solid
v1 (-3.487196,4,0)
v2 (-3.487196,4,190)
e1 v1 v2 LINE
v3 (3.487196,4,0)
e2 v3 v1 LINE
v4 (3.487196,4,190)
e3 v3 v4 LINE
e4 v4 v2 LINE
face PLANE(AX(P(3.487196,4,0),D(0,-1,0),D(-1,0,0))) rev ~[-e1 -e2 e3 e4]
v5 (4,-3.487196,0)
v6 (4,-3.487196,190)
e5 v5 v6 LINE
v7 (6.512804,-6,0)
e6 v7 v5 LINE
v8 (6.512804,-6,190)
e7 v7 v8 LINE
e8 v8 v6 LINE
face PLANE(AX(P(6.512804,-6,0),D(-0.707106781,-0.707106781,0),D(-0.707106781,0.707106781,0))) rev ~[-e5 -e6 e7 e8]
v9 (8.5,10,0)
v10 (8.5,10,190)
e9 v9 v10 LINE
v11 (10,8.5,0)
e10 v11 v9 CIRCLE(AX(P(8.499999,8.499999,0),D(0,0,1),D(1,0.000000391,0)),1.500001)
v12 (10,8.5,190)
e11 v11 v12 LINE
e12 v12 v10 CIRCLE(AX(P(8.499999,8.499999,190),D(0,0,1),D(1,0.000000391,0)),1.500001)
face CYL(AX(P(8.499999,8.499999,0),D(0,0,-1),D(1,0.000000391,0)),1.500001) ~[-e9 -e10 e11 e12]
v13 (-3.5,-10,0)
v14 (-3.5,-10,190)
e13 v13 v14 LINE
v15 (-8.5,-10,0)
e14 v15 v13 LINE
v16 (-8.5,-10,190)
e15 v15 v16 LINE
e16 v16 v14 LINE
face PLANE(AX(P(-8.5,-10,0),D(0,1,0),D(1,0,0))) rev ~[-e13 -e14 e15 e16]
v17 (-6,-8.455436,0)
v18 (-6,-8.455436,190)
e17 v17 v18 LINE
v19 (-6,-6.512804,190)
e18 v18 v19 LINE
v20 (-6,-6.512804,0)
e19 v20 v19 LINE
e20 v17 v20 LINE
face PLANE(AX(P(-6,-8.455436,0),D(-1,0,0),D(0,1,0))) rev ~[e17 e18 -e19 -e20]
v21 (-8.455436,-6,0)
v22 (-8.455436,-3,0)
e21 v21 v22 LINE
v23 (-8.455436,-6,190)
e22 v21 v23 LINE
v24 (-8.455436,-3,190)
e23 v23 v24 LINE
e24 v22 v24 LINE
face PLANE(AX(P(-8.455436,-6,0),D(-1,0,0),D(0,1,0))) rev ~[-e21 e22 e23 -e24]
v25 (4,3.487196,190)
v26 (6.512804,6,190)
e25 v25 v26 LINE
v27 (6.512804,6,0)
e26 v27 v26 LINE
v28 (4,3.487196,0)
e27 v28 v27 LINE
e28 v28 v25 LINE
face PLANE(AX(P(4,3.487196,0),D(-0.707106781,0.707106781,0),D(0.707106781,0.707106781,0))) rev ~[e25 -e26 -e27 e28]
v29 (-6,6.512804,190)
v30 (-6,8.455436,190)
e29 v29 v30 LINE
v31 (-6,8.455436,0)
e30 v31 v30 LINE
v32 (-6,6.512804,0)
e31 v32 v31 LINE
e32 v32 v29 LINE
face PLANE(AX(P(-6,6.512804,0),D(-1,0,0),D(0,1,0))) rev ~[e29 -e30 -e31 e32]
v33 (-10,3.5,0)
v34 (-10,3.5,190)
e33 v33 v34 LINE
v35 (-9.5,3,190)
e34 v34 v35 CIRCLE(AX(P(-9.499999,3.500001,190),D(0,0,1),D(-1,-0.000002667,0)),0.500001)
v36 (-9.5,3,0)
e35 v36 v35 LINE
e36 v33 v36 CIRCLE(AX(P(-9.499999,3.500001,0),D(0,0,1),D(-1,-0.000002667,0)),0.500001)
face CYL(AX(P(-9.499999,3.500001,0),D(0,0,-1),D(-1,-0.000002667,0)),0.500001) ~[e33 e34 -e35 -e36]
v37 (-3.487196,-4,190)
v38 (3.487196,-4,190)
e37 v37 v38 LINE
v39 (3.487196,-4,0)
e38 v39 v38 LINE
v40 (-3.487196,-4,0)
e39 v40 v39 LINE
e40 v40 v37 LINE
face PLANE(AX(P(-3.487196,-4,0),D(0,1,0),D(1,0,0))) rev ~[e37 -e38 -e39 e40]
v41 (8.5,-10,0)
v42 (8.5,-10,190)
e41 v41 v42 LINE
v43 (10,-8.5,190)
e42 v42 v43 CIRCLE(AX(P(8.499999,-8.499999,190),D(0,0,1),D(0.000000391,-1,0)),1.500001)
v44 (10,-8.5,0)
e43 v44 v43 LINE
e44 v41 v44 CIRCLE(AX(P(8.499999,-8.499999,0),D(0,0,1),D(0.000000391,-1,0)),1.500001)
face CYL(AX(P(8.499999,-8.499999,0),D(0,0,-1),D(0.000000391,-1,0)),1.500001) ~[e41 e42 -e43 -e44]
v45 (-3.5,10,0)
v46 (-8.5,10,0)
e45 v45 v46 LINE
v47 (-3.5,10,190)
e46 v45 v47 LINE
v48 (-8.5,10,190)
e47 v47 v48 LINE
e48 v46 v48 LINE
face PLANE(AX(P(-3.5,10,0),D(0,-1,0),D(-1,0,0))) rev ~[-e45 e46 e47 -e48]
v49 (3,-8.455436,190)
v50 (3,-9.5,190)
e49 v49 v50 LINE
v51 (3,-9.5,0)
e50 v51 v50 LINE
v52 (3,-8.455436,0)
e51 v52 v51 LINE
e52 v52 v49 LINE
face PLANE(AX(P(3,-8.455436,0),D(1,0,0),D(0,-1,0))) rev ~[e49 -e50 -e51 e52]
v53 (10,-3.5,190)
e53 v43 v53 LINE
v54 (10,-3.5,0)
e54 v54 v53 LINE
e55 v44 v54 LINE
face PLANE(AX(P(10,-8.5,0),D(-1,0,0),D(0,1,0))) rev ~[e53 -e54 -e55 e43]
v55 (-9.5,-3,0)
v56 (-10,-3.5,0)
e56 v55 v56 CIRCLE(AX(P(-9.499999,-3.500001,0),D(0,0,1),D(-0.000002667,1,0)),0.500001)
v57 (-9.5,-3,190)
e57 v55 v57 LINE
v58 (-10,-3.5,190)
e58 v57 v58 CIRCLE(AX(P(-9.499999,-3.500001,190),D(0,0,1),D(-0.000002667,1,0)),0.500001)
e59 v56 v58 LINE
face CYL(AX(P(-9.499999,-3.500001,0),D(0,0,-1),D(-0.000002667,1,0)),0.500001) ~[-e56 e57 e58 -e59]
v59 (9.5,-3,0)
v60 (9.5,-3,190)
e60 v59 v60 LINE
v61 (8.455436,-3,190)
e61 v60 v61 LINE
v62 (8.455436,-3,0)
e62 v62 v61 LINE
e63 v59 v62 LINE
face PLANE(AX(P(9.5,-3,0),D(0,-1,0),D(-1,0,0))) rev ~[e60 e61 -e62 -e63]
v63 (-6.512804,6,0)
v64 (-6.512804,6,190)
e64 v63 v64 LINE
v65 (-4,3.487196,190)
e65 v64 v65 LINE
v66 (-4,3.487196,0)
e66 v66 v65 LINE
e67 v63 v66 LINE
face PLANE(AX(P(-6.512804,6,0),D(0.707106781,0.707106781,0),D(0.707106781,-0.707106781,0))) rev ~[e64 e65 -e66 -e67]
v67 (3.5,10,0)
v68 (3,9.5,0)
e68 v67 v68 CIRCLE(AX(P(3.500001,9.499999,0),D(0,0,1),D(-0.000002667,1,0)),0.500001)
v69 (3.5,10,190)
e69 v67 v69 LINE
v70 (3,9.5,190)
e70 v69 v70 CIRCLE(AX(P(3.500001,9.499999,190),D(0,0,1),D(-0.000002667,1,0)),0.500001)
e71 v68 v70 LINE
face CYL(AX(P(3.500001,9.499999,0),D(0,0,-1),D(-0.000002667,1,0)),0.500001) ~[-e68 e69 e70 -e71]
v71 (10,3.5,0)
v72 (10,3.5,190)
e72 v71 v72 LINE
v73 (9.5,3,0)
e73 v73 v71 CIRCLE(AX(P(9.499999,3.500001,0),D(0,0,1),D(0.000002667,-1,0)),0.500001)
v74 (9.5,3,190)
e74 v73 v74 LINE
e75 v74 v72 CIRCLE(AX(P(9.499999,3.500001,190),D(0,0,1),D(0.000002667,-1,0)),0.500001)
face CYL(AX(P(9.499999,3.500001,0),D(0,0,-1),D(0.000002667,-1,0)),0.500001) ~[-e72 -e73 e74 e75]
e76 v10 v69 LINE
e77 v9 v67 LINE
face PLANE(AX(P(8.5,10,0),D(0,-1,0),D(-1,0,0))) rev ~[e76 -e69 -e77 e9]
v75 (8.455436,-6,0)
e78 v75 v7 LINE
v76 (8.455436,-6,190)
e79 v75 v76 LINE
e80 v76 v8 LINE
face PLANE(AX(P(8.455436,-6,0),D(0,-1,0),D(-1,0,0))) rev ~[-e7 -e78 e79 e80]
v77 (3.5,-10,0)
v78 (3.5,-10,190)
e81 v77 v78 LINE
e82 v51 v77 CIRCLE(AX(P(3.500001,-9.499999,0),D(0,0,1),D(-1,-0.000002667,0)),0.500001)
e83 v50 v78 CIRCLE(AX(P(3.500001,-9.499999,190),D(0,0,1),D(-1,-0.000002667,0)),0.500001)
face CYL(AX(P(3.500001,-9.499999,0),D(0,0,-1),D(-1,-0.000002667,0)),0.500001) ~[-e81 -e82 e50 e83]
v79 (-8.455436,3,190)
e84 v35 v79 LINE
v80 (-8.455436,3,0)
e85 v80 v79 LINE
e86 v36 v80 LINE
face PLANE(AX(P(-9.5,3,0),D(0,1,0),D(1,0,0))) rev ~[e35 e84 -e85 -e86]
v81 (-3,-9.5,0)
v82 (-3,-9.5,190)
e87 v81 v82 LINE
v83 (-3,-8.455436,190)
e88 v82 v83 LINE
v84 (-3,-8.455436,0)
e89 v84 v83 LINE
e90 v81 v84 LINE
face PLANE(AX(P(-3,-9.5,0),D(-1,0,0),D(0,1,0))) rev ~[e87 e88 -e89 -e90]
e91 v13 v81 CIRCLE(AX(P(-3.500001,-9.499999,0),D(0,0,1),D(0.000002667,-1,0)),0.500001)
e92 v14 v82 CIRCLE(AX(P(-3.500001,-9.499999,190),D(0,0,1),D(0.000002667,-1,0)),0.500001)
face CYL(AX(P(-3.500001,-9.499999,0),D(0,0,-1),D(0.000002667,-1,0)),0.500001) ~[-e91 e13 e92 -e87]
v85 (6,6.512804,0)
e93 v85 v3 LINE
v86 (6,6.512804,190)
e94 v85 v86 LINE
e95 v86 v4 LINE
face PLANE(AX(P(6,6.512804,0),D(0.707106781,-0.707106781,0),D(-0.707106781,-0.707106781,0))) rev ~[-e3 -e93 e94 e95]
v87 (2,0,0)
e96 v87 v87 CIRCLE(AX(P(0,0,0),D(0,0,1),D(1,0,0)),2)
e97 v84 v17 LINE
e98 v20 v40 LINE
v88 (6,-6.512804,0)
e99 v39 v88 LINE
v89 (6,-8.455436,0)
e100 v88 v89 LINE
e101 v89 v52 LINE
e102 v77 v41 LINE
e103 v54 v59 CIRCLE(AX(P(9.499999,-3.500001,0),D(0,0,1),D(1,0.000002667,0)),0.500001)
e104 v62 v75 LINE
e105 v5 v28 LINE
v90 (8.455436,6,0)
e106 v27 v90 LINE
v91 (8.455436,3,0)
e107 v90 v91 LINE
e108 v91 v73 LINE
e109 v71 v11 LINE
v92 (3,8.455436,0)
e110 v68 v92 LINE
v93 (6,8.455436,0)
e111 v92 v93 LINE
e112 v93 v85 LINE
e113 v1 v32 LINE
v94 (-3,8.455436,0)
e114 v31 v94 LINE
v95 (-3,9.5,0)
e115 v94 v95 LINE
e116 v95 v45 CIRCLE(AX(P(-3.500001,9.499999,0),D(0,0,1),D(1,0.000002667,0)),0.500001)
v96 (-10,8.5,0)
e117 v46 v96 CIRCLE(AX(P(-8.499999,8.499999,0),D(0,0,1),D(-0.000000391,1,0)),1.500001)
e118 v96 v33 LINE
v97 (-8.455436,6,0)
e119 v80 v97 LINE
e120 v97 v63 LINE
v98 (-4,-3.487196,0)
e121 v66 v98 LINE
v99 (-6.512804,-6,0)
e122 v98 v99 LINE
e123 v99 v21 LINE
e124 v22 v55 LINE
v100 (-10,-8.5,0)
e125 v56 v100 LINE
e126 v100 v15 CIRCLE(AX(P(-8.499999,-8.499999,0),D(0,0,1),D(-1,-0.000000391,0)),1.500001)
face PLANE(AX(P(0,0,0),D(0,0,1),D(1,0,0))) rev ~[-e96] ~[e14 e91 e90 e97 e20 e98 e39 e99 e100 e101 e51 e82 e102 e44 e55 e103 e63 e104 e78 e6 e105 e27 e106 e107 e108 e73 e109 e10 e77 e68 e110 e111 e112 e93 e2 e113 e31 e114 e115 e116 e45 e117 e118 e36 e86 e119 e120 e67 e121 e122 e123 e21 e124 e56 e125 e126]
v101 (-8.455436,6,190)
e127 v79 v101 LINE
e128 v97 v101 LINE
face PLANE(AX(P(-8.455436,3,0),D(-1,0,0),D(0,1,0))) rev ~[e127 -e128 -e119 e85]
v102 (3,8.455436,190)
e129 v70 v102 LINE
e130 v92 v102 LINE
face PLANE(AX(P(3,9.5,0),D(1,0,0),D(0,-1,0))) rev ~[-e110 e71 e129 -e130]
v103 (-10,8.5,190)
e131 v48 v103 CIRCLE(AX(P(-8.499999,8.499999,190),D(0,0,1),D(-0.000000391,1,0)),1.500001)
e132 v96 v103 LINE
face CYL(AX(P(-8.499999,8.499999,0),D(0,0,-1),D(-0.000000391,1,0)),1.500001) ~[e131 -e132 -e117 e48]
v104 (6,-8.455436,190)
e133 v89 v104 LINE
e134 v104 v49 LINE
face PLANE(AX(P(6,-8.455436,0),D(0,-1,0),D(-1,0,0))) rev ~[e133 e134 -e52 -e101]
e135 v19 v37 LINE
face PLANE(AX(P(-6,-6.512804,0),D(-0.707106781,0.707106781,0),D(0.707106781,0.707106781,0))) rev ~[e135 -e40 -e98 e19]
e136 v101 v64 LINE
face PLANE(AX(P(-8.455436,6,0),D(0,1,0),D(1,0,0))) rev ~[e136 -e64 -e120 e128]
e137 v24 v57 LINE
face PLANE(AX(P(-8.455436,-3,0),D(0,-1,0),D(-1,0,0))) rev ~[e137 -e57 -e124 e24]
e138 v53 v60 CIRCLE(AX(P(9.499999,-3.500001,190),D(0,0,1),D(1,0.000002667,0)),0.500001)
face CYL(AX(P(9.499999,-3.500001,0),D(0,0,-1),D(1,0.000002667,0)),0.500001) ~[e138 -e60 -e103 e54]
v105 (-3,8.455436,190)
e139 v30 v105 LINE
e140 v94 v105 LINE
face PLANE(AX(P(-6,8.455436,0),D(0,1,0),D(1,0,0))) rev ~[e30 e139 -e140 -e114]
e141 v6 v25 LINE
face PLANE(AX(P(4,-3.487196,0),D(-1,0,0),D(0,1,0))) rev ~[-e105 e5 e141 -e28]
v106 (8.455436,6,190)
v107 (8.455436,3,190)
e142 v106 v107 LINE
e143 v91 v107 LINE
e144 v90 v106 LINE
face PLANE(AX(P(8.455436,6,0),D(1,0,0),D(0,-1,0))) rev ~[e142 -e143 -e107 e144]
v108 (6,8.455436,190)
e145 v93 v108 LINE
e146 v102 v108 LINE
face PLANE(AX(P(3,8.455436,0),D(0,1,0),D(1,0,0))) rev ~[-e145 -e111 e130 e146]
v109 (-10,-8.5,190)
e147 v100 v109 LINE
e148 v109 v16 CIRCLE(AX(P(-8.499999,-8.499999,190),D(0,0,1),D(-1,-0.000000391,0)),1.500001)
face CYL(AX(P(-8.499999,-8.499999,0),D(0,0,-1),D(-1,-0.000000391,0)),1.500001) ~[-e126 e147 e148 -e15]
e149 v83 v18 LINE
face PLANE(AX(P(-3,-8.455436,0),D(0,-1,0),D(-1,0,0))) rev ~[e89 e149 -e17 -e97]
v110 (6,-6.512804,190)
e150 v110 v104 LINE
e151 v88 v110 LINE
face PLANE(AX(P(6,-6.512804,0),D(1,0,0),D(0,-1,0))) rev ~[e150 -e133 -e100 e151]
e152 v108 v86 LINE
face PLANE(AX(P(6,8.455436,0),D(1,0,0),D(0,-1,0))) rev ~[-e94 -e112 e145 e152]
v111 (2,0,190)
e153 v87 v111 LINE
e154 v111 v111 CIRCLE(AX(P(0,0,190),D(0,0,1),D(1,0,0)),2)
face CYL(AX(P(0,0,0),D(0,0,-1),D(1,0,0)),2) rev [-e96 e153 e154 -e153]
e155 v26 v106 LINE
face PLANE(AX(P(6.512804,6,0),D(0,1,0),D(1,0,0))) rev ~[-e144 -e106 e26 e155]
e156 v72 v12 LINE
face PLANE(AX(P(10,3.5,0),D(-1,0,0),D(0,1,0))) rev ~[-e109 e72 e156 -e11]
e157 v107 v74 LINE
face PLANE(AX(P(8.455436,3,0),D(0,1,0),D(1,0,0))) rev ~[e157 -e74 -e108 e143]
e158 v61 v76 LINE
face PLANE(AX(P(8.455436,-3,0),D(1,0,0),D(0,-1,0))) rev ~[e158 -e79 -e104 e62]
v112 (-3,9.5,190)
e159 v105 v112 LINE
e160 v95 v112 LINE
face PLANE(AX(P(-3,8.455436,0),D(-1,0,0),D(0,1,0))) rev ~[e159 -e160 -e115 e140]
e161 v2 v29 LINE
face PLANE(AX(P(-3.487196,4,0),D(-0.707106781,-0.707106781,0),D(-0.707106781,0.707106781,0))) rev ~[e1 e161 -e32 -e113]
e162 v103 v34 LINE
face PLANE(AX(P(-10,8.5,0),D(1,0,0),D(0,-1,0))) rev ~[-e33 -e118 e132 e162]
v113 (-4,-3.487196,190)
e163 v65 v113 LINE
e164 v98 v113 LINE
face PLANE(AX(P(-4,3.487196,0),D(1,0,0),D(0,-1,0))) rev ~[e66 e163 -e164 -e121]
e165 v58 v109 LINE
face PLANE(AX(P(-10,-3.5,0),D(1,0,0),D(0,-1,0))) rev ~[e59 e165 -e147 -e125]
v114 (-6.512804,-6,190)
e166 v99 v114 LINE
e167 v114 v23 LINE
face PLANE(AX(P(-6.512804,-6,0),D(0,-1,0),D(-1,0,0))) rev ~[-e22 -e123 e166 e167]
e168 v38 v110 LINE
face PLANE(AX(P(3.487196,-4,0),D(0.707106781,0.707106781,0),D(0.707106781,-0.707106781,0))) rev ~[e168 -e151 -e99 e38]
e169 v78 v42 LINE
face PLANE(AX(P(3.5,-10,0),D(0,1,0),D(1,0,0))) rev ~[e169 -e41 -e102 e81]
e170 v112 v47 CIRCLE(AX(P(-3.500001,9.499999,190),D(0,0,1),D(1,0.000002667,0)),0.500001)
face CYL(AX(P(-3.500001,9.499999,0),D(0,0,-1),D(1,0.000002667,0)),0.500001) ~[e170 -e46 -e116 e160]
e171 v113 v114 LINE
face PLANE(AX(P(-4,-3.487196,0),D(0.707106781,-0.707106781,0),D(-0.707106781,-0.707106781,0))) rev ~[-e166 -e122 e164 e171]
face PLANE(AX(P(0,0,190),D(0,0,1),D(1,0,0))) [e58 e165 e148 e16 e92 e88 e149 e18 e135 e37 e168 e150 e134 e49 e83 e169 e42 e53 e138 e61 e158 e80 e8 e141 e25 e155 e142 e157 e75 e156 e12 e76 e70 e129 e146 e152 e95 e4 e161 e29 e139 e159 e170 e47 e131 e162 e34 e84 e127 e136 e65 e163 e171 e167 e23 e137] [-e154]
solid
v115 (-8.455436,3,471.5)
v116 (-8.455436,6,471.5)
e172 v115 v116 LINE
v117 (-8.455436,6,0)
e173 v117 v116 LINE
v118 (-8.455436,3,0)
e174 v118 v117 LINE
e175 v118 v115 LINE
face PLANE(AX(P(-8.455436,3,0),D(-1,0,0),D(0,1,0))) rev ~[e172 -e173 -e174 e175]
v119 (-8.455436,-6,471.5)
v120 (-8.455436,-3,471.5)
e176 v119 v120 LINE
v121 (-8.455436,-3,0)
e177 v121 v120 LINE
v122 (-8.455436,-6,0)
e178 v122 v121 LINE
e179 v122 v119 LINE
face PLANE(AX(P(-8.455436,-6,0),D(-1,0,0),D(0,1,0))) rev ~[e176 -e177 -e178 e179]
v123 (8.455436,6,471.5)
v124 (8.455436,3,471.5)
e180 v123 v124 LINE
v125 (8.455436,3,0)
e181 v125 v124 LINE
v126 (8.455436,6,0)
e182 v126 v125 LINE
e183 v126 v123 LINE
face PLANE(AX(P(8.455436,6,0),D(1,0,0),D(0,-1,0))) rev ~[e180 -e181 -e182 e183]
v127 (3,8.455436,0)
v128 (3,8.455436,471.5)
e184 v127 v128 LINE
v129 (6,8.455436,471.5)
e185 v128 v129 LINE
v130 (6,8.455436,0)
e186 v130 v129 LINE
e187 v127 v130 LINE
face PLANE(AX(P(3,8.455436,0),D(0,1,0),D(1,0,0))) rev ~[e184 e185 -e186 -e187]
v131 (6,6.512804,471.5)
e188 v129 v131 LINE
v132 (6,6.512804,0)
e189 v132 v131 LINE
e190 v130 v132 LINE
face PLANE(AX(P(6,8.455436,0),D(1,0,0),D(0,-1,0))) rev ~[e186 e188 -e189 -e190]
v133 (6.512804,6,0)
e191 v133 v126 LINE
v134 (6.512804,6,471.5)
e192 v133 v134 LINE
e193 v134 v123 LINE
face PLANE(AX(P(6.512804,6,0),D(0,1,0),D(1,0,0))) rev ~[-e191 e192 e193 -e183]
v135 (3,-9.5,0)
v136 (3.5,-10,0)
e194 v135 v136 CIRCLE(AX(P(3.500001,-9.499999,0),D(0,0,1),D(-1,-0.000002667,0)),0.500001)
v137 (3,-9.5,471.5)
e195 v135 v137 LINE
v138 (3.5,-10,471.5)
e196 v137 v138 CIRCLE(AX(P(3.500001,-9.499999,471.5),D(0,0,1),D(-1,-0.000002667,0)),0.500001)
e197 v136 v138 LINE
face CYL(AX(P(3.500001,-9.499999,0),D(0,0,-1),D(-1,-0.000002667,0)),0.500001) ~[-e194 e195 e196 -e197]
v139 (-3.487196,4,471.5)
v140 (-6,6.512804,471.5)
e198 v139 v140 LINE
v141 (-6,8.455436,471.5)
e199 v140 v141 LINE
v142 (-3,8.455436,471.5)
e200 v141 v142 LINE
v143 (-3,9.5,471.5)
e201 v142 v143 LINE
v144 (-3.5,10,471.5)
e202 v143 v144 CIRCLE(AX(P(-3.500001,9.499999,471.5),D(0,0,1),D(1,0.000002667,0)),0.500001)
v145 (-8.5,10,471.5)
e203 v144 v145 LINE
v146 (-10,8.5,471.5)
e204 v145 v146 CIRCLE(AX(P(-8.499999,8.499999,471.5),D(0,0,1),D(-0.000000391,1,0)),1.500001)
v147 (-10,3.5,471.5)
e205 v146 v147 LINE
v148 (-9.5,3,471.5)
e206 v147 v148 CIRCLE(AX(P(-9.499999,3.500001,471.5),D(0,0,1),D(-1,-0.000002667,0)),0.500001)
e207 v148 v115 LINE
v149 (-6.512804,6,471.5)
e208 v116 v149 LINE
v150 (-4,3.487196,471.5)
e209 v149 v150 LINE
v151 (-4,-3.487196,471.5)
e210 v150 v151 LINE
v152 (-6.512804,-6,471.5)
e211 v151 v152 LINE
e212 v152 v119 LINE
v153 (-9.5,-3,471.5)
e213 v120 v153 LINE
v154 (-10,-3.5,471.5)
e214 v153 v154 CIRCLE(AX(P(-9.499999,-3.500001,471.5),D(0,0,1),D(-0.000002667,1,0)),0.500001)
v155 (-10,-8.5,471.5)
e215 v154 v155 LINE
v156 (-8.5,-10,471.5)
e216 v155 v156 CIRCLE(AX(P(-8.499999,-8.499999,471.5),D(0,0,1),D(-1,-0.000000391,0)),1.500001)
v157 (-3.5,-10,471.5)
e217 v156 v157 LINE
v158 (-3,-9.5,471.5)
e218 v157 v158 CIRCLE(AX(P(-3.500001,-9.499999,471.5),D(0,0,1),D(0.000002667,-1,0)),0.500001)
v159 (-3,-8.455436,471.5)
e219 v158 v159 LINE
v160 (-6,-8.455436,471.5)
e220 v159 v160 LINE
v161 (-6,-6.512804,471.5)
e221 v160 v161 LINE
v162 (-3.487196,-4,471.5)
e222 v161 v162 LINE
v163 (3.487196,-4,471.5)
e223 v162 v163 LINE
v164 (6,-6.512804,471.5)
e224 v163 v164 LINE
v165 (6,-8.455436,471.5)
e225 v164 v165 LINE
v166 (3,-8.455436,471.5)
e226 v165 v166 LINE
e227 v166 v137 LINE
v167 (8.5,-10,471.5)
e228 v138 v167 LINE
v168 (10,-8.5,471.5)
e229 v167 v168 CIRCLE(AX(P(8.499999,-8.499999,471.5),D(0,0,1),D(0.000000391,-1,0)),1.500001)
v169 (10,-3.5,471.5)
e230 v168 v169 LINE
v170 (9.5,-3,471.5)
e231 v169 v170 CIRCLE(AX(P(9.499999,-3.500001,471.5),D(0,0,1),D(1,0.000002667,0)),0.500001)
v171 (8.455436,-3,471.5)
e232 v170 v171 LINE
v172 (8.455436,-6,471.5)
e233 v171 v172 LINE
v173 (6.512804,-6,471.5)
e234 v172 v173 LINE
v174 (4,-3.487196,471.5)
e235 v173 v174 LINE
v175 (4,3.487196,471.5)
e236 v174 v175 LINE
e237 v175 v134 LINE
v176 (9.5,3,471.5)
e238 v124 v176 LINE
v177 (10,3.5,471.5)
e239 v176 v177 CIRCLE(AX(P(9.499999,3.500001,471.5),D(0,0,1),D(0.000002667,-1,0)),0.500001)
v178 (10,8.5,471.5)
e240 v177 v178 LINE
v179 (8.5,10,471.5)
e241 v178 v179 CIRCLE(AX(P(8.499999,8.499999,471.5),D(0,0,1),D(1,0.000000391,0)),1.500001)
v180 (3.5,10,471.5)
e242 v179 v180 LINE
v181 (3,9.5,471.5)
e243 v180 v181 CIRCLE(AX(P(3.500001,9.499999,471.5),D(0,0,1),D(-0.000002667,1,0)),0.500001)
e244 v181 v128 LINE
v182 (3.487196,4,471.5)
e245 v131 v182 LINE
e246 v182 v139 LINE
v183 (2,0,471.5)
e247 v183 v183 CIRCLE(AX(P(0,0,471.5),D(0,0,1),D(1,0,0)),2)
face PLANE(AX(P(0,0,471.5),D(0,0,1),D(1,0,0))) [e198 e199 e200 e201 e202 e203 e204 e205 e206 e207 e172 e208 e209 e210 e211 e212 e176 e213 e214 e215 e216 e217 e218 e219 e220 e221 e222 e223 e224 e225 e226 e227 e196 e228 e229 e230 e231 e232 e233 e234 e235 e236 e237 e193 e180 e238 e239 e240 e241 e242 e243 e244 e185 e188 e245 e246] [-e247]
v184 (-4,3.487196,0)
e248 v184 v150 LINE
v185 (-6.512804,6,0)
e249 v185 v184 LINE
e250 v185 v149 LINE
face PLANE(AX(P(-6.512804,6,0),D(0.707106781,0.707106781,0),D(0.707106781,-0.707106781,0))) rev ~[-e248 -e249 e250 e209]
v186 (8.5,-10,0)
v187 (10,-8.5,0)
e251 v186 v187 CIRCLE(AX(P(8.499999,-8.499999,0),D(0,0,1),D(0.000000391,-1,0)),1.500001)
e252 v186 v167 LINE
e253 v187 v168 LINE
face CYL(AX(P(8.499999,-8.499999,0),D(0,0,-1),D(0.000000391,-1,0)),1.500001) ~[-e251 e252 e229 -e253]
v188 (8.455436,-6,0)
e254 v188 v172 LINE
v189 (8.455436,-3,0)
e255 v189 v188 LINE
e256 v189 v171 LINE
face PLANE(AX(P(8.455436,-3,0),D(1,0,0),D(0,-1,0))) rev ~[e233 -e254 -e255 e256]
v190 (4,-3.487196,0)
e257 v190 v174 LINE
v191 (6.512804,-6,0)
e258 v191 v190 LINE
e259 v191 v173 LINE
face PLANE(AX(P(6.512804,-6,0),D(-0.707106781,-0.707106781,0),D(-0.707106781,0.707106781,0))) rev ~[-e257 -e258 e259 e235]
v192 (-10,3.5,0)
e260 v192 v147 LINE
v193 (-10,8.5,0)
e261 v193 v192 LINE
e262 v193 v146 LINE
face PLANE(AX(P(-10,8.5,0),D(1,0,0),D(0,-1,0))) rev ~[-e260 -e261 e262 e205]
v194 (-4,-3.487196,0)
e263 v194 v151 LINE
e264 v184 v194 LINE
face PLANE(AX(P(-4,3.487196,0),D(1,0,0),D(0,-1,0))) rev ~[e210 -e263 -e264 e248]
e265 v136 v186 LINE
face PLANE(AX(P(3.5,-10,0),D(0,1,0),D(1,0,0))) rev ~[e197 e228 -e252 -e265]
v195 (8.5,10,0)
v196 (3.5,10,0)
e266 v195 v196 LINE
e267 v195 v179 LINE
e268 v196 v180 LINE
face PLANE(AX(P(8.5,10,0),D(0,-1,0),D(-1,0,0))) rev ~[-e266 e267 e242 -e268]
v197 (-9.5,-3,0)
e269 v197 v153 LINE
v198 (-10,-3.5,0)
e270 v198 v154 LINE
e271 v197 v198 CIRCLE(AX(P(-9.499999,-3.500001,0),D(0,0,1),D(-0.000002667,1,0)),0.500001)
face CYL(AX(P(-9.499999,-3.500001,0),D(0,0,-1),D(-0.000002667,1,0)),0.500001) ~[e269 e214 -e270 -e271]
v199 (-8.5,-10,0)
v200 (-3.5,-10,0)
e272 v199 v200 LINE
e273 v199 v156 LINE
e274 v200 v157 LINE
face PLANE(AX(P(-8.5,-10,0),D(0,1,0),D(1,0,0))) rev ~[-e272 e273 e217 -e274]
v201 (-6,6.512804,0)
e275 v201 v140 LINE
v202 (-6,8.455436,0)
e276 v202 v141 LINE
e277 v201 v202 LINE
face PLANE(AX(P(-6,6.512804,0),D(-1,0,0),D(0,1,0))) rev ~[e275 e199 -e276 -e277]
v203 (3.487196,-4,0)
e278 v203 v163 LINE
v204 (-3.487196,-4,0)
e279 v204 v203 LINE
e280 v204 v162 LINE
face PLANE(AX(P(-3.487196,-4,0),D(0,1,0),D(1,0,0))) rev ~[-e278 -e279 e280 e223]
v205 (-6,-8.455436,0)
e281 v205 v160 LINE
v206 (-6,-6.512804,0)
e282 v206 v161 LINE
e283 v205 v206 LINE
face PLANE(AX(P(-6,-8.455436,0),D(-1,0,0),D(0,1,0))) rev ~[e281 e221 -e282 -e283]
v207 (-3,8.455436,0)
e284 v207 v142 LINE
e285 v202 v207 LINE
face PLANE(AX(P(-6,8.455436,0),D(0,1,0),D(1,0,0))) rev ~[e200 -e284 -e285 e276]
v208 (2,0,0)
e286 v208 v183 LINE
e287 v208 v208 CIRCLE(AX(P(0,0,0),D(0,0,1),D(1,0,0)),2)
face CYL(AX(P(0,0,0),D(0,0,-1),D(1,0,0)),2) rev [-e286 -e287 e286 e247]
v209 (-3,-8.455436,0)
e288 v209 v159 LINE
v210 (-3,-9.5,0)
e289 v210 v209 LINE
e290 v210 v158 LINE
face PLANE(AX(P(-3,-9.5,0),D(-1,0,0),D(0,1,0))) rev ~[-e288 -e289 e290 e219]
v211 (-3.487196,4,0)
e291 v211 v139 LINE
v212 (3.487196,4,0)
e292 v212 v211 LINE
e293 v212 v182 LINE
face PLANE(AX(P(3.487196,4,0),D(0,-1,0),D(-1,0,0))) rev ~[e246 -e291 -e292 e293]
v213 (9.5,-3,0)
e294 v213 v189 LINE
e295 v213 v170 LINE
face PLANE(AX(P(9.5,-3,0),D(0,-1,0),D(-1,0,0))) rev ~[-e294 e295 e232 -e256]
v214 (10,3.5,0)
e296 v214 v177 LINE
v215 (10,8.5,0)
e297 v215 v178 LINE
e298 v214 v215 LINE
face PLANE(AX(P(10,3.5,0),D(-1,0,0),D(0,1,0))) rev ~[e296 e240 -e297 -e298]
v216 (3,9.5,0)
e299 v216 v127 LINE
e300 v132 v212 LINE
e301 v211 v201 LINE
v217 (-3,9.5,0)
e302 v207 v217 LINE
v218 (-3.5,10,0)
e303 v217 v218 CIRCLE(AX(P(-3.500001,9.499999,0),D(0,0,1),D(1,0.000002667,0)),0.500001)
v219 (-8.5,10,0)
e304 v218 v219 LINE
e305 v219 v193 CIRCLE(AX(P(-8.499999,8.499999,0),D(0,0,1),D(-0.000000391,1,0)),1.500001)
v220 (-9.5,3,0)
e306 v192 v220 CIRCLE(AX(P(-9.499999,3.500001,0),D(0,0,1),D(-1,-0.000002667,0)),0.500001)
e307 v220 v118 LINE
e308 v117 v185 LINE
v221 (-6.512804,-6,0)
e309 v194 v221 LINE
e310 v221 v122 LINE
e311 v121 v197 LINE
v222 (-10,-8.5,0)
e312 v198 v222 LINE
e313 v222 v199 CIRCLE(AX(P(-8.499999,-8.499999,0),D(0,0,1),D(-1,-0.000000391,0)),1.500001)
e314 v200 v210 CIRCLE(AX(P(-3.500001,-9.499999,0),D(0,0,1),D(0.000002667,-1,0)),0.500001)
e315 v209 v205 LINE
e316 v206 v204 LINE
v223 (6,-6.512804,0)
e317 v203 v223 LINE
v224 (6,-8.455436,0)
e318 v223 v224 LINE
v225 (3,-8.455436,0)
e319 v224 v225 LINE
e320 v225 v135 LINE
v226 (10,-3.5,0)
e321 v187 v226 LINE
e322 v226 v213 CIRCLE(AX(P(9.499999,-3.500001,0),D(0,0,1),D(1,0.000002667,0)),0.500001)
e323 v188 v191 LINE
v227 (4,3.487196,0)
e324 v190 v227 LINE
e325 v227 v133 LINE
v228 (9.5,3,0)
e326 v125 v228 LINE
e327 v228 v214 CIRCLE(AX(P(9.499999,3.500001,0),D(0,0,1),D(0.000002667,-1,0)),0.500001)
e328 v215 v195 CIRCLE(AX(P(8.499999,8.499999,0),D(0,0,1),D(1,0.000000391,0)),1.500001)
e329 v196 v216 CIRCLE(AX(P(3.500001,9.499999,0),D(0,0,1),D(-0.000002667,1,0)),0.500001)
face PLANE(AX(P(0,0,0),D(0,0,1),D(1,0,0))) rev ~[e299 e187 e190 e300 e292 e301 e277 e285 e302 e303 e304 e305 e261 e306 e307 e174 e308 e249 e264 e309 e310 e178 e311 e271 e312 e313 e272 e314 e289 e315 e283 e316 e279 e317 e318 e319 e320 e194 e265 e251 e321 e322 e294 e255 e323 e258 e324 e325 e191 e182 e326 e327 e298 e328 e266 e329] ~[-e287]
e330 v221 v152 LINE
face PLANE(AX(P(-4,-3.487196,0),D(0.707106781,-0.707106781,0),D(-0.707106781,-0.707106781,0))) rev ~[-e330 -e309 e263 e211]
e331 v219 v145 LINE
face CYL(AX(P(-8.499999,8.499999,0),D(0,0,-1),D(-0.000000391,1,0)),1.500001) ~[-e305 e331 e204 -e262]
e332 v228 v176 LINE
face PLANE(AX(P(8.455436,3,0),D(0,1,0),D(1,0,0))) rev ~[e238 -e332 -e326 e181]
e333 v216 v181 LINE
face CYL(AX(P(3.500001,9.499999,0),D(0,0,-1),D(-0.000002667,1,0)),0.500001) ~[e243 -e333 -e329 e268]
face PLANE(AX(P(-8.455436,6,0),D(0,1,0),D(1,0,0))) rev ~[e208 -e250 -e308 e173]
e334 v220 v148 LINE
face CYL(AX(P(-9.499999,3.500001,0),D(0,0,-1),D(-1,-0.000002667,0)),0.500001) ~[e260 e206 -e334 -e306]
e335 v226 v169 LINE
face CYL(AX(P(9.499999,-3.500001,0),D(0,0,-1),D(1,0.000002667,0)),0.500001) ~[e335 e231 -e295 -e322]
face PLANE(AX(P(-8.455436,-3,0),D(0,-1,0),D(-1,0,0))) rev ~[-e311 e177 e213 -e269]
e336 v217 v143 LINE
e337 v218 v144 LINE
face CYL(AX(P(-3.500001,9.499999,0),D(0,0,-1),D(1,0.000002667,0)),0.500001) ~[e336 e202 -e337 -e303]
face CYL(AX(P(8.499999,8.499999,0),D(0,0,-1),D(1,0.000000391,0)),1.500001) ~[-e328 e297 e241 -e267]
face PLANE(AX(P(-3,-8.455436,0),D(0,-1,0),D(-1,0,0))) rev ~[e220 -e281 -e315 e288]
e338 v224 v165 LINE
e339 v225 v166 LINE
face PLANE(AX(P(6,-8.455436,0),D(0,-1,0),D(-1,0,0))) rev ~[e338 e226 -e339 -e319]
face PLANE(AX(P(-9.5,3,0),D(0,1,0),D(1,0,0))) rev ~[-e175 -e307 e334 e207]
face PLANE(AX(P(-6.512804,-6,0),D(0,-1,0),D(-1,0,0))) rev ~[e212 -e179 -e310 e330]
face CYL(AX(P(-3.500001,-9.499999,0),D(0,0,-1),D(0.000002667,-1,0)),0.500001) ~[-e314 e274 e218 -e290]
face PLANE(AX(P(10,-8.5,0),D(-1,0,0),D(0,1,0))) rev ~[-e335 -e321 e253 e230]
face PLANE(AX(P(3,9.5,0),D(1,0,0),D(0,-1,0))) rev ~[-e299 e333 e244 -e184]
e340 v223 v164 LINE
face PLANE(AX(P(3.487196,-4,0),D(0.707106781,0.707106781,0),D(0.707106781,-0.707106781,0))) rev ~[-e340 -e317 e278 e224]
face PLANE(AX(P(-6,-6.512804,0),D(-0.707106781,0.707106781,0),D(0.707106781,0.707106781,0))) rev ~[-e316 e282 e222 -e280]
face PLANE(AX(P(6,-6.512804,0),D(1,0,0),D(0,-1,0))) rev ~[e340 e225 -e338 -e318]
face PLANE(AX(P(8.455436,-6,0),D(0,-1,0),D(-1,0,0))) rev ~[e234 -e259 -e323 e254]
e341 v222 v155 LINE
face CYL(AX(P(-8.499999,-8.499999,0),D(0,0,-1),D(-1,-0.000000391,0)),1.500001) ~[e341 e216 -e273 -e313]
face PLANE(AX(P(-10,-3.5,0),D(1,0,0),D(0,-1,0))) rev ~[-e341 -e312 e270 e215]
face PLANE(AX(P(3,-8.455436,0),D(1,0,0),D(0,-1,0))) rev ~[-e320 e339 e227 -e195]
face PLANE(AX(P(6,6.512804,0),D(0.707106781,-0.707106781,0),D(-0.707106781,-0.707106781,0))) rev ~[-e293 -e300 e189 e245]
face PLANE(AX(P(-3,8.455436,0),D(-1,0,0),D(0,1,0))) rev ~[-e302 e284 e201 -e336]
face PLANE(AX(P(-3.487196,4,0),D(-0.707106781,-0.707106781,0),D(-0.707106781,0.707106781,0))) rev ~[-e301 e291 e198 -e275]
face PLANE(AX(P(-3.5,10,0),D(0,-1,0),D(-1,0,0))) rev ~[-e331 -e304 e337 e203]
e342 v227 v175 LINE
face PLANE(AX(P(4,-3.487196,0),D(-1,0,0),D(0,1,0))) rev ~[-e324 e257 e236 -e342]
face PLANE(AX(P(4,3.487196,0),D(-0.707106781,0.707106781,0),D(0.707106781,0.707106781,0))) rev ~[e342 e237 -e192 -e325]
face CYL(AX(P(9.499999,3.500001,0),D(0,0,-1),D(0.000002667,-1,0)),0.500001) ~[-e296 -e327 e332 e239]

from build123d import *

# Parameters (mm, degrees)
F0_R     = 2
F1_DEPTH = 190
F2_DEPTH = 471.5


with BuildPart() as f1:
    # F0 (on Top) → F1 (new body)
    with BuildSketch(Plane.XY):
        with BuildLine():
            Line((8.455436, 3), (9.5, 3))
            ThreePointArc((9.5, 3), (9.853553, 3.146447), (10, 3.5))
            Line((10, 3.5), (10, 8.5))
            ThreePointArc((10, 8.5), (9.56066, 9.56066), (8.5, 10))
            Line((8.5, 10), (3.5, 10))
            ThreePointArc((3.5, 10), (3.146447, 9.853553), (3, 9.5))
            Line((3, 9.5), (3, 8.455436))
            Line((3, 8.455436), (6, 8.455436))
            Line((6, 8.455436), (6, 6.512804))
            Line((6, 6.512804), (3.487196, 4))
            Line((3.487196, 4), (0, 4))
            Line((0, 4), (-3.487196, 4))
            Line((-3.487196, 4), (-6, 6.512804))
            Line((-6, 6.512804), (-6, 8.455436))
            Line((-6, 8.455436), (-3, 8.455436))
            Line((-3, 8.455436), (-3, 9.5))
            ThreePointArc((-3, 9.5), (-3.146447, 9.853553), (-3.5, 10))
            Line((-3.5, 10), (-8.5, 10))
            ThreePointArc((-8.5, 10), (-9.56066, 9.56066), (-10, 8.5))
            Line((-10, 8.5), (-10, 3.5))
            ThreePointArc((-10, 3.5), (-9.853553, 3.146447), (-9.5, 3))
            Line((-9.5, 3), (-8.455436, 3))
            Line((-8.455436, 3), (-8.455436, 6))
            Line((-8.455436, 6), (-6.512804, 6))
            Line((-6.512804, 6), (-4, 3.487196))
            Line((-4, 3.487196), (-4, 0))
            Line((-4, 0), (-4, -3.487196))
            Line((-4, -3.487196), (-6.512804, -6))
            Line((-6.512804, -6), (-8.455436, -6))
            Line((-8.455436, -6), (-8.455436, -3))
            Line((-8.455436, -3), (-9.5, -3))
            ThreePointArc((-9.5, -3), (-9.853553, -3.146447), (-10, -3.5))
            Line((-10, -3.5), (-10, -8.5))
            ThreePointArc((-10, -8.5), (-9.56066, -9.56066), (-8.5, -10))
            Line((-8.5, -10), (-3.5, -10))
            ThreePointArc((-3.5, -10), (-3.146447, -9.853553), (-3, -9.5))
            Line((-3, -9.5), (-3, -8.455436))
            Line((-3, -8.455436), (-6, -8.455436))
            Line((-6, -8.455436), (-6, -6.512804))
            Line((-6, -6.512804), (-3.487196, -4))
            Line((-3.487196, -4), (0, -4))
            Line((0, -4), (3.487196, -4))
            Line((3.487196, -4), (6, -6.512804))
            Line((6, -6.512804), (6, -8.455436))
            Line((6, -8.455436), (3, -8.455436))
            Line((3, -8.455436), (3, -9.5))
            ThreePointArc((3, -9.5), (3.146447, -9.853553), (3.5, -10))
            Line((3.5, -10), (8.5, -10))
            ThreePointArc((8.5, -10), (9.56066, -9.56066), (10, -8.5))
            Line((10, -8.5), (10, -3.5))
            ThreePointArc((10, -3.5), (9.853553, -3.146447), (9.5, -3))
            Line((9.5, -3), (8.455436, -3))
            Line((8.455436, -3), (8.455436, -6))
            Line((8.455436, -6), (6.512804, -6))
            Line((6.512804, -6), (4, -3.487196))
            Line((4, -3.487196), (4, 0))
            Line((4, 0), (4, 3.487196))
            Line((4, 3.487196), (6.512804, 6))
            Line((6.512804, 6), (8.455436, 6))
            Line((8.455436, 6), (8.455436, 3))
        make_face()
        Circle(F0_R, mode=Mode.SUBTRACT)
    extrude(amount=F1_DEPTH)


with BuildPart() as f2:
    # F0 (on Top) → F2 (new body)
    with BuildSketch(Plane.XY):
        with BuildLine():
            Line((8.455436, 3), (9.5, 3))
            ThreePointArc((9.5, 3), (9.853553, 3.146447), (10, 3.5))
            Line((10, 3.5), (10, 8.5))
            ThreePointArc((10, 8.5), (9.56066, 9.56066), (8.5, 10))
            Line((8.5, 10), (3.5, 10))
            ThreePointArc((3.5, 10), (3.146447, 9.853553), (3, 9.5))
            Line((3, 9.5), (3, 8.455436))
            Line((3, 8.455436), (6, 8.455436))
            Line((6, 8.455436), (6, 6.512804))
            Line((6, 6.512804), (3.487196, 4))
            Line((3.487196, 4), (0, 4))
            Line((0, 4), (-3.487196, 4))
            Line((-3.487196, 4), (-6, 6.512804))
            Line((-6, 6.512804), (-6, 8.455436))
            Line((-6, 8.455436), (-3, 8.455436))
            Line((-3, 8.455436), (-3, 9.5))
            ThreePointArc((-3, 9.5), (-3.146447, 9.853553), (-3.5, 10))
            Line((-3.5, 10), (-8.5, 10))
            ThreePointArc((-8.5, 10), (-9.56066, 9.56066), (-10, 8.5))
            Line((-10, 8.5), (-10, 3.5))
            ThreePointArc((-10, 3.5), (-9.853553, 3.146447), (-9.5, 3))
            Line((-9.5, 3), (-8.455436, 3))
            Line((-8.455436, 3), (-8.455436, 6))
            Line((-8.455436, 6), (-6.512804, 6))
            Line((-6.512804, 6), (-4, 3.487196))
            Line((-4, 3.487196), (-4, 0))
            Line((-4, 0), (-4, -3.487196))
            Line((-4, -3.487196), (-6.512804, -6))
            Line((-6.512804, -6), (-8.455436, -6))
            Line((-8.455436, -6), (-8.455436, -3))
            Line((-8.455436, -3), (-9.5, -3))
            ThreePointArc((-9.5, -3), (-9.853553, -3.146447), (-10, -3.5))
            Line((-10, -3.5), (-10, -8.5))
            ThreePointArc((-10, -8.5), (-9.56066, -9.56066), (-8.5, -10))
            Line((-8.5, -10), (-3.5, -10))
            ThreePointArc((-3.5, -10), (-3.146447, -9.853553), (-3, -9.5))
            Line((-3, -9.5), (-3, -8.455436))
            Line((-3, -8.455436), (-6, -8.455436))
            Line((-6, -8.455436), (-6, -6.512804))
            Line((-6, -6.512804), (-3.487196, -4))
            Line((-3.487196, -4), (0, -4))
            Line((0, -4), (3.487196, -4))
            Line((3.487196, -4), (6, -6.512804))
            Line((6, -6.512804), (6, -8.455436))
            Line((6, -8.455436), (3, -8.455436))
            Line((3, -8.455436), (3, -9.5))
            ThreePointArc((3, -9.5), (3.146447, -9.853553), (3.5, -10))
            Line((3.5, -10), (8.5, -10))
            ThreePointArc((8.5, -10), (9.56066, -9.56066), (10, -8.5))
            Line((10, -8.5), (10, -3.5))
            ThreePointArc((10, -3.5), (9.853553, -3.146447), (9.5, -3))
            Line((9.5, -3), (8.455436, -3))
            Line((8.455436, -3), (8.455436, -6))
            Line((8.455436, -6), (6.512804, -6))
            Line((6.512804, -6), (4, -3.487196))
            Line((4, -3.487196), (4, 0))
            Line((4, 0), (4, 3.487196))
            Line((4, 3.487196), (6.512804, 6))
            Line((6.512804, 6), (8.455436, 6))
            Line((8.455436, 6), (8.455436, 3))
        make_face()
        Circle(F0_R, mode=Mode.SUBTRACT)
    extrude(amount=F2_DEPTH)


solid = Compound([f1.part, f2.part])
